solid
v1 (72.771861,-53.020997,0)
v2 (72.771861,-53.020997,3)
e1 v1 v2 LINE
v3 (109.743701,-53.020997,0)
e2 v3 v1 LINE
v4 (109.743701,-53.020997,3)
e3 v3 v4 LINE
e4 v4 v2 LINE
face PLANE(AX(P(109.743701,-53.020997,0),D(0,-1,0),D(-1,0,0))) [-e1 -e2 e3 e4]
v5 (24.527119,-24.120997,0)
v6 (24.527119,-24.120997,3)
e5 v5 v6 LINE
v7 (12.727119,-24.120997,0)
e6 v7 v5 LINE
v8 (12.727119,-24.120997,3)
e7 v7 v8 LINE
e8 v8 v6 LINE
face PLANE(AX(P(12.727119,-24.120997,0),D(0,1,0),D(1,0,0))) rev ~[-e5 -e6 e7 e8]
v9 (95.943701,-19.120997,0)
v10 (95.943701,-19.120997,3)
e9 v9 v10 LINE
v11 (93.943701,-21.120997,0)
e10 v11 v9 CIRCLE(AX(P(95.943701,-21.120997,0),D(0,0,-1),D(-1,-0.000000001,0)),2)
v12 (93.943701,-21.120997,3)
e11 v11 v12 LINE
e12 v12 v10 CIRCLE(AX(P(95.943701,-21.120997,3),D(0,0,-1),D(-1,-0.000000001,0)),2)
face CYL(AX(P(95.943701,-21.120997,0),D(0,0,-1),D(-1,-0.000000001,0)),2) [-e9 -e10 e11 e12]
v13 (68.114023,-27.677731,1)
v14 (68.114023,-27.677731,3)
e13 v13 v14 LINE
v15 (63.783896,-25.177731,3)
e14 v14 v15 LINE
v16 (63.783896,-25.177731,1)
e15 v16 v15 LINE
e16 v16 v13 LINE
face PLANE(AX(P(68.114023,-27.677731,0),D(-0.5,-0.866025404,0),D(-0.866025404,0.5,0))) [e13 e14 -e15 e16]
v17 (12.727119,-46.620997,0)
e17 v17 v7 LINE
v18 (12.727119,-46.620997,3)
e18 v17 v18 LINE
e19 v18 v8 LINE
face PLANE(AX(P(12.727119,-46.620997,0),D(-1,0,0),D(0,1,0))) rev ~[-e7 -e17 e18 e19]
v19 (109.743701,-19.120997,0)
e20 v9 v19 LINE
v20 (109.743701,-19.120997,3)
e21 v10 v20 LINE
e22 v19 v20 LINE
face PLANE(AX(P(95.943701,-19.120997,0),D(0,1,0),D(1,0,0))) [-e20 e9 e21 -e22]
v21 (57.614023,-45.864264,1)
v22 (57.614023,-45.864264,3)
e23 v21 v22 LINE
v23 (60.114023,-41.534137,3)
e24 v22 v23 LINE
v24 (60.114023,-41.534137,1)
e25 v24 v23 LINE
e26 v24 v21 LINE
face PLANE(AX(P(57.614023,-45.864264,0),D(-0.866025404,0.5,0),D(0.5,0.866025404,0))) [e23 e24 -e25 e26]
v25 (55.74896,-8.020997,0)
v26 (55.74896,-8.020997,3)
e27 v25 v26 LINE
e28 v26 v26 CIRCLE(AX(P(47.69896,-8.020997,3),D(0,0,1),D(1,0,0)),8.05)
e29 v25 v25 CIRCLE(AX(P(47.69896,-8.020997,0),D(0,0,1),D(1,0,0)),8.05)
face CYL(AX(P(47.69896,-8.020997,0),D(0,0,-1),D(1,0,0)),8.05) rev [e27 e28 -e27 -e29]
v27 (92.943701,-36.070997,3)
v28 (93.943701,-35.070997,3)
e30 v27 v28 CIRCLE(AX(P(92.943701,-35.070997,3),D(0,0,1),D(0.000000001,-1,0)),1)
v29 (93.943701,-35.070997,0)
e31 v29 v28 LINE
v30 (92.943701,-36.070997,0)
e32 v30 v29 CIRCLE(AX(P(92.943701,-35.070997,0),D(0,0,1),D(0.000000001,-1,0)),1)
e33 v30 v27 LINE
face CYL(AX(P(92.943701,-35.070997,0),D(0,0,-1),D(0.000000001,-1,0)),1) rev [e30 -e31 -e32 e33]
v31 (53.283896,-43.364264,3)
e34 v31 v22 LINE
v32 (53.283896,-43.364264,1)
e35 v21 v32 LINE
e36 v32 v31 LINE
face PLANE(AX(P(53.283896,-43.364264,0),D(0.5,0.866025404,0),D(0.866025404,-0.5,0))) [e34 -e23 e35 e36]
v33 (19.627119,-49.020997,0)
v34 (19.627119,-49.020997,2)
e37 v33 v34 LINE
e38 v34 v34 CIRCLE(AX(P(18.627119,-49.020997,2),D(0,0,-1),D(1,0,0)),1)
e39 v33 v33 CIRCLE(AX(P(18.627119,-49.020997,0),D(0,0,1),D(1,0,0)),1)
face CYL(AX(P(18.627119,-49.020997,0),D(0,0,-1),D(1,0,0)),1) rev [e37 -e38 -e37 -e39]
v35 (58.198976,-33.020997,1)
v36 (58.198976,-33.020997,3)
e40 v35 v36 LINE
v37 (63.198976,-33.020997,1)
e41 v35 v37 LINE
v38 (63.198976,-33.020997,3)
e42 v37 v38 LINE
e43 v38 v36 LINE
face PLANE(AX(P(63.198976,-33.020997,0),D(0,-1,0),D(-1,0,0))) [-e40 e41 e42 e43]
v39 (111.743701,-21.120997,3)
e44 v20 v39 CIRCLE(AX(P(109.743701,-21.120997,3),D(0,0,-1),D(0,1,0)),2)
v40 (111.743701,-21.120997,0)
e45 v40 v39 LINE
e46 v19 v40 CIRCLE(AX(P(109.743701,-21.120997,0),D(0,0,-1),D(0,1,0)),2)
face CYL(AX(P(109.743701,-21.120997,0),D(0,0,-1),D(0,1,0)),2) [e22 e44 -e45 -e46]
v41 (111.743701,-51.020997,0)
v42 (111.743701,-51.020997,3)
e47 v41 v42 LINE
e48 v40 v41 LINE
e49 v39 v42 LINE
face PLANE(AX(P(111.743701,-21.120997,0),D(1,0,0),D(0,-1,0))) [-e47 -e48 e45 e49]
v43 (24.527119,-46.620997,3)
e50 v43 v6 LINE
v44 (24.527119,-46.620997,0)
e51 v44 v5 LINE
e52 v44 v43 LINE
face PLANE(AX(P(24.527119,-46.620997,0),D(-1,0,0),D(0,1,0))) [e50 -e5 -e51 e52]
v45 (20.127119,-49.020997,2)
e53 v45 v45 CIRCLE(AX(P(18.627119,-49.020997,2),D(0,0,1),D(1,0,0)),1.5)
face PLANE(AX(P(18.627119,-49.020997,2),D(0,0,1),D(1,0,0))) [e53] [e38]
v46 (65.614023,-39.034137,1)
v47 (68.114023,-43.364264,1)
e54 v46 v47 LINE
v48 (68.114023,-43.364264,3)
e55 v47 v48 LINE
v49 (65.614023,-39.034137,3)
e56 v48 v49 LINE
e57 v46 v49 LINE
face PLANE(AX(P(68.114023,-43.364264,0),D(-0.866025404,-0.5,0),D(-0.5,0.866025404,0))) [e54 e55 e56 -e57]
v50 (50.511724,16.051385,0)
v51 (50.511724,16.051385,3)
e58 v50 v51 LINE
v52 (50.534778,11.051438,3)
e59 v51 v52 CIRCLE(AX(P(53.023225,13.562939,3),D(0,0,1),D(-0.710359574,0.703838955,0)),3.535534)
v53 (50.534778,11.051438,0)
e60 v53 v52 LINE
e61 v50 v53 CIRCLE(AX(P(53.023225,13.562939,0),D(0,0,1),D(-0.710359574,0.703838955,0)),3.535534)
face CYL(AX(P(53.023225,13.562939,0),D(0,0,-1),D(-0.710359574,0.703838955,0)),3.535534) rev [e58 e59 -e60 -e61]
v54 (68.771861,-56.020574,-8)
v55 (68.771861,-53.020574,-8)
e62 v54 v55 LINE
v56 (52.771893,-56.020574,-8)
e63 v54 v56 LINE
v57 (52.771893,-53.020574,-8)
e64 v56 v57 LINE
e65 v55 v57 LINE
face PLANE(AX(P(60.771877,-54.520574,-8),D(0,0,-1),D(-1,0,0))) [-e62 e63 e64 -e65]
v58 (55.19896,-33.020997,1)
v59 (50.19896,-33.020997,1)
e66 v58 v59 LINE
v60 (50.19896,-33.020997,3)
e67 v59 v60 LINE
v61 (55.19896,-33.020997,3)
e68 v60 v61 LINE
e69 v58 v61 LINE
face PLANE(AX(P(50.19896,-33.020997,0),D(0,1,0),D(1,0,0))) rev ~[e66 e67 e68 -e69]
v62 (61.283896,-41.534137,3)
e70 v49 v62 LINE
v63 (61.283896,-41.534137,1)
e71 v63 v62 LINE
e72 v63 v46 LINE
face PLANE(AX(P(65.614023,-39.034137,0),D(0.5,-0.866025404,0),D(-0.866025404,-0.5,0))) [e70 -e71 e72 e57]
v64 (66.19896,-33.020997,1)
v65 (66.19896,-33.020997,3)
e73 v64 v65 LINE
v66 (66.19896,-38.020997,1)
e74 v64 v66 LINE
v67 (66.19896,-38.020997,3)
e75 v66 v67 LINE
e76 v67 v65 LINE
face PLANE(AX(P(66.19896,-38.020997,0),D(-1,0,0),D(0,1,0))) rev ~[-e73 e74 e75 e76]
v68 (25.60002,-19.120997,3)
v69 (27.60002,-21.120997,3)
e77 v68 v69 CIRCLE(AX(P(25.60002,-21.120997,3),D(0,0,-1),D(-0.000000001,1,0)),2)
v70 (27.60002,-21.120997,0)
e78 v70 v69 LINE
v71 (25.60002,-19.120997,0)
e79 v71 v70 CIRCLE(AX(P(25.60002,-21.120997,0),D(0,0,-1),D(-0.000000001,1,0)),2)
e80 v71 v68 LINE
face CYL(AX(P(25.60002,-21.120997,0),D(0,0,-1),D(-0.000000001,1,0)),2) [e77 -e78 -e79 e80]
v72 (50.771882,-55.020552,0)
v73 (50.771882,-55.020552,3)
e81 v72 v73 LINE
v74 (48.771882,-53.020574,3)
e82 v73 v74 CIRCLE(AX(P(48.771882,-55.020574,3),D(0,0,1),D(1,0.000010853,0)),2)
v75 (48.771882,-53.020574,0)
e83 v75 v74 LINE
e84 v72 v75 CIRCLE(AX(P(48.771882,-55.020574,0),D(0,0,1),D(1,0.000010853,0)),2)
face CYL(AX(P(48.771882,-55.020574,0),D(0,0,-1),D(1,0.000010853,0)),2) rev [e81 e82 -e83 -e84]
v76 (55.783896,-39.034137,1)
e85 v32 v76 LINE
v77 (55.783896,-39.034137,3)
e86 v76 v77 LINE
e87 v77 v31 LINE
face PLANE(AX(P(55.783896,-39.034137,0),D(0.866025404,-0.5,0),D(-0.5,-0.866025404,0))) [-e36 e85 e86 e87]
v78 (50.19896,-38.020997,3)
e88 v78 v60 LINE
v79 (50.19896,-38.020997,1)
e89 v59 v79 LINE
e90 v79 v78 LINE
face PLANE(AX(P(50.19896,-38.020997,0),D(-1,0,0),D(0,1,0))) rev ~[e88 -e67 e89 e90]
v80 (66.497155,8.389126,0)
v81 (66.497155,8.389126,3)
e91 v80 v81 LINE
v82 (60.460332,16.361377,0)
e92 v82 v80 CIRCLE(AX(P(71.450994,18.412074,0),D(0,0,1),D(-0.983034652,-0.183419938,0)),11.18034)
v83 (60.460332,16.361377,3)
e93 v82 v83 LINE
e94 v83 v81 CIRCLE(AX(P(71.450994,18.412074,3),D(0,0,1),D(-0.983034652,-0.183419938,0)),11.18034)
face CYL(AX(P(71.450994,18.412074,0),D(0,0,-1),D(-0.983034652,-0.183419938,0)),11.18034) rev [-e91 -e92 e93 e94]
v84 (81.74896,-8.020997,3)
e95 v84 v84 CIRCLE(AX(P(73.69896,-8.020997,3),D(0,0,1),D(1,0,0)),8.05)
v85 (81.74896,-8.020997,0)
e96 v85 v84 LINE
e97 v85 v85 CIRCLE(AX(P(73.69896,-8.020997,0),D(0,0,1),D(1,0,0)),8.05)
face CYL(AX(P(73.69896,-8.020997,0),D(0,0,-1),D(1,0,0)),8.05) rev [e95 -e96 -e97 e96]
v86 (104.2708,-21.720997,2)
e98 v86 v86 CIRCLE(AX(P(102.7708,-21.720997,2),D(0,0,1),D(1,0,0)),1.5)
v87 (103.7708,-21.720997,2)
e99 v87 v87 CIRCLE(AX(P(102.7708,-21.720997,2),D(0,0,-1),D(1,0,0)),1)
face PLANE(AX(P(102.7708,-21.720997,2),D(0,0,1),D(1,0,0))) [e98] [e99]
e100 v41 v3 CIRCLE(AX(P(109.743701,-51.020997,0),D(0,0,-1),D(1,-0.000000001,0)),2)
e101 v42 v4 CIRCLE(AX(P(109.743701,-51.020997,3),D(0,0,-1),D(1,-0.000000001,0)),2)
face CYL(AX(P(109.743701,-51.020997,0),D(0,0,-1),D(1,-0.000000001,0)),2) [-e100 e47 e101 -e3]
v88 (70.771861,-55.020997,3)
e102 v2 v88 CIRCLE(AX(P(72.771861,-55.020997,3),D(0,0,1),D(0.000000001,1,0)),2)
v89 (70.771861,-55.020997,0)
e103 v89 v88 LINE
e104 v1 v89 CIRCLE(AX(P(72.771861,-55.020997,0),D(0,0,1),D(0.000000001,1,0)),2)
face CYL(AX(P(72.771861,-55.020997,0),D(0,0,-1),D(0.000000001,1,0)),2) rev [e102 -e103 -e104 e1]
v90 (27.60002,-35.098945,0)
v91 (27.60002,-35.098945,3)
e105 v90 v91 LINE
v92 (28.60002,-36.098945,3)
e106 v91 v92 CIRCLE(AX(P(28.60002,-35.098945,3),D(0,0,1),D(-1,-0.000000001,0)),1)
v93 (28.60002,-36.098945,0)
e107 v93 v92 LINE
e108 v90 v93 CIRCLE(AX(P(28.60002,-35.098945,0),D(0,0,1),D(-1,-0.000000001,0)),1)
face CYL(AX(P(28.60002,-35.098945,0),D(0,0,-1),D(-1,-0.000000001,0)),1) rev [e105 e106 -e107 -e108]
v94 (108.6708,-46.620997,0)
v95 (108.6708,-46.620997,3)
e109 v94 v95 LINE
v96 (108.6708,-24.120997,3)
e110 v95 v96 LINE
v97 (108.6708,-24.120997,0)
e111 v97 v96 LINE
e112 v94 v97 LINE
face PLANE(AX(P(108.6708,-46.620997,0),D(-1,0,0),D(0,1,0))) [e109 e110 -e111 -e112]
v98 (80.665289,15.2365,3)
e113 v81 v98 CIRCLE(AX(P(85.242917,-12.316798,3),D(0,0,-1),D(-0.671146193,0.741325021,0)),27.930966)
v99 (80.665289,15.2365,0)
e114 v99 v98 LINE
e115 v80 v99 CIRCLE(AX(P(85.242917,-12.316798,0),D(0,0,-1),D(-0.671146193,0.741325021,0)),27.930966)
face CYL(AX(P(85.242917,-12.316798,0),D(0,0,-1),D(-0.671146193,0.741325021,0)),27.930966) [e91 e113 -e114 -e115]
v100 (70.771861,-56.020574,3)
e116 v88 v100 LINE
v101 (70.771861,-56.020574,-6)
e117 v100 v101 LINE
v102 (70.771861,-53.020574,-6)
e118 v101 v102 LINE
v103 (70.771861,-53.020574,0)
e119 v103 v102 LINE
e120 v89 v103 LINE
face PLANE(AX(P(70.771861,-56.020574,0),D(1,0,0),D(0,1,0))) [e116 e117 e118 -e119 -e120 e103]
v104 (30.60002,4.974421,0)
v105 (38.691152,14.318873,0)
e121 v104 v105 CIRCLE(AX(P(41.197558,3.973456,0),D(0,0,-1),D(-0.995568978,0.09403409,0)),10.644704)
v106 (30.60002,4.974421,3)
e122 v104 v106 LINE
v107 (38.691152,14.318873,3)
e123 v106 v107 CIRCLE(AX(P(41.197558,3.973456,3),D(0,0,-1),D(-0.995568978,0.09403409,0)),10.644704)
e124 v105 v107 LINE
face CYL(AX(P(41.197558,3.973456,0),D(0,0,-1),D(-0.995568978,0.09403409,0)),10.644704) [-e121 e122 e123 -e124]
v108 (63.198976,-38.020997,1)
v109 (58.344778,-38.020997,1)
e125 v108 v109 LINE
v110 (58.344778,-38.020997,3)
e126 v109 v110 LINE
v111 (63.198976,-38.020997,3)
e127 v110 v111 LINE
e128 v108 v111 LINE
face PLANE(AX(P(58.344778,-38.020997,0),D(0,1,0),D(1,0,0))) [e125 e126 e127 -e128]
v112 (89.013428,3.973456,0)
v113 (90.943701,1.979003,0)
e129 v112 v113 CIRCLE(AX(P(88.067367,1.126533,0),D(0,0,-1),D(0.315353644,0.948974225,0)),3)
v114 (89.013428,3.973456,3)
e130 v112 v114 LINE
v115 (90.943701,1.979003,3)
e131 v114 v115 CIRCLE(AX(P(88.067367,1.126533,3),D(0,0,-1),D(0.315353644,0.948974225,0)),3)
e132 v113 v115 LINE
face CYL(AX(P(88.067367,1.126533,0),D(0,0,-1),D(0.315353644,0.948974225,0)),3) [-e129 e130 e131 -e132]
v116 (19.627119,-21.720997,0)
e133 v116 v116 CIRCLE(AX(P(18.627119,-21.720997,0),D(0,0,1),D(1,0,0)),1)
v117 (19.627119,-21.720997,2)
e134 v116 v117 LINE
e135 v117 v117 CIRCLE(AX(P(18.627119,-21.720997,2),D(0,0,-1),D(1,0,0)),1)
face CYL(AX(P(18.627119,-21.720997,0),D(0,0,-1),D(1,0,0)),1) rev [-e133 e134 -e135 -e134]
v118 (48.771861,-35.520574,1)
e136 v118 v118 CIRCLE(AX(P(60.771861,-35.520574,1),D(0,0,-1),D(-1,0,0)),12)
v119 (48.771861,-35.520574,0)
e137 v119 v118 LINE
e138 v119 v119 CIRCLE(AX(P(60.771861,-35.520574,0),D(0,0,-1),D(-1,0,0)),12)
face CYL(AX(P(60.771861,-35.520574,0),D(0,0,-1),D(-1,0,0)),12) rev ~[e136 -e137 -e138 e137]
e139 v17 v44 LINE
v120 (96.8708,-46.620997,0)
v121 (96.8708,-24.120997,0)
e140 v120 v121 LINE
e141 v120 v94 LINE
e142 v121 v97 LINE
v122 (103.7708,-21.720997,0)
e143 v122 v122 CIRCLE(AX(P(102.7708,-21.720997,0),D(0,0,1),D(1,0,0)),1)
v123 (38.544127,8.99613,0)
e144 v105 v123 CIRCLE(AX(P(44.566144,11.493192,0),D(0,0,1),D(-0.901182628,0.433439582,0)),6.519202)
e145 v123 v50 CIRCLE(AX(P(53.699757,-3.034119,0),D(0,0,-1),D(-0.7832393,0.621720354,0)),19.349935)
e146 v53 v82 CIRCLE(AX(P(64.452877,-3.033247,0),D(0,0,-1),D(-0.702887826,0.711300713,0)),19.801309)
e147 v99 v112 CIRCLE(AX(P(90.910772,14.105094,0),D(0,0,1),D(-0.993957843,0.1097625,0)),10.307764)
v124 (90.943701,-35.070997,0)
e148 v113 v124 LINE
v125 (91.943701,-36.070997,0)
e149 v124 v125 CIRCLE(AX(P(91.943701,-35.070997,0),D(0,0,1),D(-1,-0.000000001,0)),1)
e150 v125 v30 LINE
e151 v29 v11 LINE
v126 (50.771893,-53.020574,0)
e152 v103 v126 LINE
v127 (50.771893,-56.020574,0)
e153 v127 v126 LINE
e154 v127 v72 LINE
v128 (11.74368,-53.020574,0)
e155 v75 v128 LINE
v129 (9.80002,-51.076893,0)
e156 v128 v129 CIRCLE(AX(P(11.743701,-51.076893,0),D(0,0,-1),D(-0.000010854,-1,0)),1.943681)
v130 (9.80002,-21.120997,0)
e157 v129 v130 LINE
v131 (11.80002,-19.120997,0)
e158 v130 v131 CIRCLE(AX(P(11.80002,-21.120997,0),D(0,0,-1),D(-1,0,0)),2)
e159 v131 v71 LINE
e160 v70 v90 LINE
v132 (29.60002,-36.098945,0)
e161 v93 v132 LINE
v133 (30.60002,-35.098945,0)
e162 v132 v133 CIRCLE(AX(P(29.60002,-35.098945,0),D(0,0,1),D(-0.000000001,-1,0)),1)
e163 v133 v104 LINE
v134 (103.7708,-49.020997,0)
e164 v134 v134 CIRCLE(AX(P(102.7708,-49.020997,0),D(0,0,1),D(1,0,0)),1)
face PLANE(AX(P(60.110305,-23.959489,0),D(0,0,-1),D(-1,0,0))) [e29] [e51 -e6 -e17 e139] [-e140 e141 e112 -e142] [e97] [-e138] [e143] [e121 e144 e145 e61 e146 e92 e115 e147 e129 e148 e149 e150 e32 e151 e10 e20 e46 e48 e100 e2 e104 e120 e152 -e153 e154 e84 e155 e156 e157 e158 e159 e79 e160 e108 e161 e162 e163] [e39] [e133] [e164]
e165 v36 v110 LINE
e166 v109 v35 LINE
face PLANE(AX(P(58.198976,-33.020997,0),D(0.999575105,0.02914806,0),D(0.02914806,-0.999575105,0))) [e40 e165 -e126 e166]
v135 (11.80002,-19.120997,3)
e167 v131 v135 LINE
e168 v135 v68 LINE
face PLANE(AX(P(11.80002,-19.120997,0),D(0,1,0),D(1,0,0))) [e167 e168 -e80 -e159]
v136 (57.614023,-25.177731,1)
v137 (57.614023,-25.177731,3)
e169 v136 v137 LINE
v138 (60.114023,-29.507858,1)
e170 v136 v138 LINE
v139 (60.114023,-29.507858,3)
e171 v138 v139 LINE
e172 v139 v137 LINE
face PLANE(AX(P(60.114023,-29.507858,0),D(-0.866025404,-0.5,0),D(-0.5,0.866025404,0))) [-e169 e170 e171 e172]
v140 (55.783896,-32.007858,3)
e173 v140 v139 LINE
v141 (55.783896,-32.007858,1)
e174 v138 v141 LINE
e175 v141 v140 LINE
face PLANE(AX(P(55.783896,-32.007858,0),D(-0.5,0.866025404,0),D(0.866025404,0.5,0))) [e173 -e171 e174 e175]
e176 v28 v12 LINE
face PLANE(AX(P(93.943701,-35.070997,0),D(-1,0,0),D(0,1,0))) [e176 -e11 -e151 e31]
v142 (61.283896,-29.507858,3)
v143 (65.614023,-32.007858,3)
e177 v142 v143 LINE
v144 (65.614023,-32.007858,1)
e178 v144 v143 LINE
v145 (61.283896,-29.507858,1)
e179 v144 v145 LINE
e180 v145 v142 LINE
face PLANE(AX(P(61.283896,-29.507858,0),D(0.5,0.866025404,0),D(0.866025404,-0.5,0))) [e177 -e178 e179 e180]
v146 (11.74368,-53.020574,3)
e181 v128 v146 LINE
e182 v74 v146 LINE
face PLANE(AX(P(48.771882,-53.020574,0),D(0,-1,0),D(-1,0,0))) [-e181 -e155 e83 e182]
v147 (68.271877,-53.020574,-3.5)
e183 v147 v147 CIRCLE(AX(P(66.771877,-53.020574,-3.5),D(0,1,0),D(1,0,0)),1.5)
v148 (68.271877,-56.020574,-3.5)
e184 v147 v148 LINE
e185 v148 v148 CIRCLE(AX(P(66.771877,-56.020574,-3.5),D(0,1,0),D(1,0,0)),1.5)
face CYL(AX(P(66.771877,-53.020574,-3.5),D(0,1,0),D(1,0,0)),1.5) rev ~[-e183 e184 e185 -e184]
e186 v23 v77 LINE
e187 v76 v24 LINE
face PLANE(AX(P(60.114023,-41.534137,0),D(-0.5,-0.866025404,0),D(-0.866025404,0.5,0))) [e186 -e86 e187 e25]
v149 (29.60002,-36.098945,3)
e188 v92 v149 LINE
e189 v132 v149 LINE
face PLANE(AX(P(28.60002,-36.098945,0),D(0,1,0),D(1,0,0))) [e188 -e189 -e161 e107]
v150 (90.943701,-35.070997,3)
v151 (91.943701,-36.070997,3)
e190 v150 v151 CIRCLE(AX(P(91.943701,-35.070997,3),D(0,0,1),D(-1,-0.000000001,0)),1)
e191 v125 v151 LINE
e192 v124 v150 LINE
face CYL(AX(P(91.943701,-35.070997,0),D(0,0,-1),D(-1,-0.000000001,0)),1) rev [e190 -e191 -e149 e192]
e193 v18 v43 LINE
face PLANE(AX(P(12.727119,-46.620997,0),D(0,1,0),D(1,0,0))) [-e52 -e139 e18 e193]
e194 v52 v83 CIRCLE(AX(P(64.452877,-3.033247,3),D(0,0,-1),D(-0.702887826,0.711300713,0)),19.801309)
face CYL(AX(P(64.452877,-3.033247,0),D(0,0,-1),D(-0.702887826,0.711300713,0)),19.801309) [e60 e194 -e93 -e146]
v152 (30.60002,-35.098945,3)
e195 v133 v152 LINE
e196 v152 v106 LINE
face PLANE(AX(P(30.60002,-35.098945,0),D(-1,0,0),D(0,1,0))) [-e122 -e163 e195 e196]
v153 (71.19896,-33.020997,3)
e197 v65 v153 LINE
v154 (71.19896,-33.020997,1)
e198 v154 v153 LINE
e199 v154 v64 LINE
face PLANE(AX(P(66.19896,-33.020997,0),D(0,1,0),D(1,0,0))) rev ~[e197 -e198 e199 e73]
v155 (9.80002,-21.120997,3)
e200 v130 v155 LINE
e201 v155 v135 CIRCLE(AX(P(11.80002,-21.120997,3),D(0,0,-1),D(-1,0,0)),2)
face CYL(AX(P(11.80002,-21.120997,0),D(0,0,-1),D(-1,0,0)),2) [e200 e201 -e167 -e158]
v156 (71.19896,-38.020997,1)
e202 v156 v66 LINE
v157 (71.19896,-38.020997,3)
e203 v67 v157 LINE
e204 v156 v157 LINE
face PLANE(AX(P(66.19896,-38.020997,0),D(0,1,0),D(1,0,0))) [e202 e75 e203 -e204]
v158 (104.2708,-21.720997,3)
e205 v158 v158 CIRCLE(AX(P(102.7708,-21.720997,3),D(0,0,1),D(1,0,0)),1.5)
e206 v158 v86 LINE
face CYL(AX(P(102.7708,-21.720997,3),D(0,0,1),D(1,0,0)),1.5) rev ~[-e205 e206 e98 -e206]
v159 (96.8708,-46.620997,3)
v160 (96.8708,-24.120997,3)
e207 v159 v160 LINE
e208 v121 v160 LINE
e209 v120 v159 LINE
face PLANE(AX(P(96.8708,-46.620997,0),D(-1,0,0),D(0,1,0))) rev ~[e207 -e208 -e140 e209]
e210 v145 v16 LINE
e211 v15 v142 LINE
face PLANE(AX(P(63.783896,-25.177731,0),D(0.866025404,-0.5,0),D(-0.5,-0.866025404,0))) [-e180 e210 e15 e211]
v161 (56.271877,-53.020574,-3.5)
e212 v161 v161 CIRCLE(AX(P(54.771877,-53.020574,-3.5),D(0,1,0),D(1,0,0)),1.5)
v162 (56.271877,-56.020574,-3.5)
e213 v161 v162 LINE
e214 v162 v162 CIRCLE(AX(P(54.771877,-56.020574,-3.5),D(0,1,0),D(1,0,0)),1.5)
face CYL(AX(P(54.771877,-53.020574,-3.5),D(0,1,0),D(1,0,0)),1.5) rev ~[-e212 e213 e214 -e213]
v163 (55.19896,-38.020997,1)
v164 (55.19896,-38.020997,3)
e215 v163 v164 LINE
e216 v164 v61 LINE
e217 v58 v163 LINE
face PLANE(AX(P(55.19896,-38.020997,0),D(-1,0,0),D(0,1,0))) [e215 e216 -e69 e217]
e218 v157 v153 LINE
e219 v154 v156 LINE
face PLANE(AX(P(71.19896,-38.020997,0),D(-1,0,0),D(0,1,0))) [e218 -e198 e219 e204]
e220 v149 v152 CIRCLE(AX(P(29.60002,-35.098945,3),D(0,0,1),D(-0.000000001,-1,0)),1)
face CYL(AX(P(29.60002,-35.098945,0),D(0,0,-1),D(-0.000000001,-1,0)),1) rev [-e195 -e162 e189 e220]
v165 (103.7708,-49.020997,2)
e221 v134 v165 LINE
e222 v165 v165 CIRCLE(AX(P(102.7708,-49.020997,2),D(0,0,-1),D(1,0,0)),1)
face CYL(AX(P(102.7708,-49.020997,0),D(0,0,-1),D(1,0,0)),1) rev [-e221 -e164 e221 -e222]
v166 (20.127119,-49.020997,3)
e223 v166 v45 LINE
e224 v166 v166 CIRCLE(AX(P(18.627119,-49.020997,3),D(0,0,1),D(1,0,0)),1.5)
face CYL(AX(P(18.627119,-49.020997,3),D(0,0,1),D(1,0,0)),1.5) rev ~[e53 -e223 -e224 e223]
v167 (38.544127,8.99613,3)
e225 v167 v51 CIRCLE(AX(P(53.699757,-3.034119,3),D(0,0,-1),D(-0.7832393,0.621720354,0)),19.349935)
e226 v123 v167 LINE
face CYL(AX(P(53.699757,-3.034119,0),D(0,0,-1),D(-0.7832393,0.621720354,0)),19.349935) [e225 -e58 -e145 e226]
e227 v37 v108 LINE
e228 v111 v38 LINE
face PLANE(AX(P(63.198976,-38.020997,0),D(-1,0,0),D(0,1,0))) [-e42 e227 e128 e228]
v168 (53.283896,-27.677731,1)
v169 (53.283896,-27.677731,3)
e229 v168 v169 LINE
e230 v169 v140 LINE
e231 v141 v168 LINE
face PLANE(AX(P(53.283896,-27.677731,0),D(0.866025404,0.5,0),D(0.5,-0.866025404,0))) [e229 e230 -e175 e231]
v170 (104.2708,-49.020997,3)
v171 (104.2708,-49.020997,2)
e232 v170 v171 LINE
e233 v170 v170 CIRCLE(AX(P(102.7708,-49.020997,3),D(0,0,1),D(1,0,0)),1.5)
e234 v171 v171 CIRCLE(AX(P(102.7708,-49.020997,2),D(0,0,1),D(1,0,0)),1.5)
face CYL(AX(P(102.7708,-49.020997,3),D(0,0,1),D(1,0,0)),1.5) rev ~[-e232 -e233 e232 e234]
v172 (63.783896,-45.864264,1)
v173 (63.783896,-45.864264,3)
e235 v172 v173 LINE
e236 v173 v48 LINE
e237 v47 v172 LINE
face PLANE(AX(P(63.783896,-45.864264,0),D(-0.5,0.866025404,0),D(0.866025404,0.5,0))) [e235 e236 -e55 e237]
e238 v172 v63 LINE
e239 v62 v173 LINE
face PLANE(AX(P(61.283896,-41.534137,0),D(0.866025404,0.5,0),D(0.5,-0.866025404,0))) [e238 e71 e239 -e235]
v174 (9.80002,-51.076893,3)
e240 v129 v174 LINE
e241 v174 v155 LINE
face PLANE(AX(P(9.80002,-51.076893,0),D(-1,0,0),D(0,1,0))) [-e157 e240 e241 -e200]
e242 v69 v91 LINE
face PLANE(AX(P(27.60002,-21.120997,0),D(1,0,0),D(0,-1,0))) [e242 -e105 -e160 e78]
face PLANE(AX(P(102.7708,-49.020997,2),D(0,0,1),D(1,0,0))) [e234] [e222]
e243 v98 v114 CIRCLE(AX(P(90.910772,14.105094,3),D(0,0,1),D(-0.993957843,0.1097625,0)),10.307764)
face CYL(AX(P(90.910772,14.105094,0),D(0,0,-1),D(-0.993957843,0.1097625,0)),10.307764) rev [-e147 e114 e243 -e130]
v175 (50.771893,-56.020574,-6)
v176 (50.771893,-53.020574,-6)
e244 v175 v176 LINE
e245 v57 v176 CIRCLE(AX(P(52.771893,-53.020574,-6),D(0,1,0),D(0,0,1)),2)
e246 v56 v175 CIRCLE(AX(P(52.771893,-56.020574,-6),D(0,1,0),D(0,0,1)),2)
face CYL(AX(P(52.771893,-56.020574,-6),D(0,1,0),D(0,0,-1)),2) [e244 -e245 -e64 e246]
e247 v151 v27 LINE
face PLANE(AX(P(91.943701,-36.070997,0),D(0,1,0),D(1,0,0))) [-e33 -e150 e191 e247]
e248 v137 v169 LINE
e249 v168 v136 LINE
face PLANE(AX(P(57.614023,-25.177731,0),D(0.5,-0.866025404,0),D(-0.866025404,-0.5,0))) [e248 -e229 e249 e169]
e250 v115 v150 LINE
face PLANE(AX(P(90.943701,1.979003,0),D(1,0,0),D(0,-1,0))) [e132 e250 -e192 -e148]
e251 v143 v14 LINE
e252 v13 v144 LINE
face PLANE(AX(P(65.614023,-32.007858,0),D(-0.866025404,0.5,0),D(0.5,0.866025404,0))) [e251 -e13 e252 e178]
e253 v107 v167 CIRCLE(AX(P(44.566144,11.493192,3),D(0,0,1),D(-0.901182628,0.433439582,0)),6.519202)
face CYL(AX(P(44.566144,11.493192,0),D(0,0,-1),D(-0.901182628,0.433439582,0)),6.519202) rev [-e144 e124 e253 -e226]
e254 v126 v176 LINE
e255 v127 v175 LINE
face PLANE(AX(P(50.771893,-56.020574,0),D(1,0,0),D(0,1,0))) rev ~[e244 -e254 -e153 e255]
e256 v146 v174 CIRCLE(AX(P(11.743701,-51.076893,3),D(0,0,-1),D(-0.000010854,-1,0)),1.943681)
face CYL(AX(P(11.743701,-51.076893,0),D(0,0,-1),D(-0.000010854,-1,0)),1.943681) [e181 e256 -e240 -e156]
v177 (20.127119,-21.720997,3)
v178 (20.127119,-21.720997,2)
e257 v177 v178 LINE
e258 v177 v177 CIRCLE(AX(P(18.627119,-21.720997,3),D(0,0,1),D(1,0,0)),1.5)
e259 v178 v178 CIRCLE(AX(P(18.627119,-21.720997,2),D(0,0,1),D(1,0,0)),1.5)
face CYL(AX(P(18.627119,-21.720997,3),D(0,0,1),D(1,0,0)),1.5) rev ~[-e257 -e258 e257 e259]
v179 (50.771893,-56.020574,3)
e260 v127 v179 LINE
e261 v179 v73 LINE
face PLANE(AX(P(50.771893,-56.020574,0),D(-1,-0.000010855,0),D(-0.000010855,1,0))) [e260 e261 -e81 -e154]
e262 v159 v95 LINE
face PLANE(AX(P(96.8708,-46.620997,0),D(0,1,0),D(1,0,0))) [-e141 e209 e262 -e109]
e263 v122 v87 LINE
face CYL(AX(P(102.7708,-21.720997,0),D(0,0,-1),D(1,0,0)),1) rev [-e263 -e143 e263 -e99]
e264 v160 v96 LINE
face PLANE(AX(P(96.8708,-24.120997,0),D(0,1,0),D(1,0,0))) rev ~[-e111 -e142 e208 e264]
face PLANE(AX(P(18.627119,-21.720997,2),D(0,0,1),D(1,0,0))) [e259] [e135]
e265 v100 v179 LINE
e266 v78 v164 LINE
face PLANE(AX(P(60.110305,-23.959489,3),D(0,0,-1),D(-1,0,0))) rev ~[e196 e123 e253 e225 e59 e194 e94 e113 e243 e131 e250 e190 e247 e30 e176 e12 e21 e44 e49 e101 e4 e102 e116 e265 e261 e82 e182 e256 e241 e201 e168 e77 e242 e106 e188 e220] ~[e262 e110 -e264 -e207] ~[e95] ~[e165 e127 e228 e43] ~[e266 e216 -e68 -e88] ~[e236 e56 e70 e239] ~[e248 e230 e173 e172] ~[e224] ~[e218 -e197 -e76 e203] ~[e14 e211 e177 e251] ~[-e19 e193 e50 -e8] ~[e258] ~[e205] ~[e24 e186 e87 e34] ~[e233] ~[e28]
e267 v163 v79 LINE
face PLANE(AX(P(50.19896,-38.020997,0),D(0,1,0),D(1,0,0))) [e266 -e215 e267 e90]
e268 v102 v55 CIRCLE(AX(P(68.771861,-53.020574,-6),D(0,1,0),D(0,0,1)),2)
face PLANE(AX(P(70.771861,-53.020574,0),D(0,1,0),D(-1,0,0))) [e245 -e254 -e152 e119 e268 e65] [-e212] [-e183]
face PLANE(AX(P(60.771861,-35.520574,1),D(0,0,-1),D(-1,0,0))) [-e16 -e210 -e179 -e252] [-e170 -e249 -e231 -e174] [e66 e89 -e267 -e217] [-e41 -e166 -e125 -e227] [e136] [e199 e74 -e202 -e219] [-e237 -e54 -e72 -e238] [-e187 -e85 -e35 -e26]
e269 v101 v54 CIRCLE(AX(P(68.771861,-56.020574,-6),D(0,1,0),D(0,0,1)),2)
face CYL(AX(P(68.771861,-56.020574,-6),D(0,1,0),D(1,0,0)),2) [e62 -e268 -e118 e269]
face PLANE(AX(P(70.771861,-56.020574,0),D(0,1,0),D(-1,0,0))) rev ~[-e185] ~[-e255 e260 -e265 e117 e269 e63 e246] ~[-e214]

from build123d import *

# Parameters (mm, degrees)
MODEL_R                 = 8.05
MODEL_R_2               = 1
MODEL_W                 = 5
MODEL_H                 = 5
MODEL_W_2               = 11.8
MODEL_H_2               = 22.5
SALIENTE_EXTRUIR1_DEPTH = 3
CROQUIS2_R              = 1.5
CORTAR_EXTRUIR1_DEPTH   = 1
CROQUIS4_W              = 19.999967436
CROQUIS4_H              = 3
SALIENTE_EXTRUIR2_DEPTH = 8
CROQUIS5_R              = 1.5
CORTAR_EXTRUIR2_DEPTH   = 3
REDONDEO1_R             = 2
CROQUIS6_R              = 12
CORTAR_EXTRUIR3_DEPTH   = 1


with BuildPart() as part:
    # Model → Saliente-Extruir1 (new body)
    with BuildSketch(Plane.XY):
        with BuildLine():
            Line((28.600020379, -36.098945331), (29.600020379, -36.098945331))
            ThreePointArc((29.600020379, -36.098945331), (30.307127161, -35.806052112), (30.600020379, -35.098945331))
            Line((30.600020379, -35.098945331), (30.600020379, 4.974420659))
            ThreePointArc((30.600020379, 4.974420659), (33.150320304, 10.94136051), (38.69115159, 14.318872844))
            ThreePointArc((38.69115159, 14.318872844), (38.049426695, 11.673196605), (38.544127303, 8.99613013))
            ThreePointArc((38.544127303, 8.99613013), (43.872924224, 13.634815248), (50.51172433, 16.051385009))
            ThreePointArc((50.51172433, 16.051385009), (49.487728366, 13.546636971), (50.534778199, 11.051438157))
            ThreePointArc((50.534778199, 11.051438157), (55.112285588, 14.426569266), (60.460332405, 16.361376528))
            ThreePointArc((60.460332405, 16.361376528), (62.537747107, 11.66270114), (66.497154818, 8.389126209))
            ThreePointArc((66.497154818, 8.389126209), (73.089038309, 12.831206377), (80.665288642, 15.236499516))
            ThreePointArc((80.665288642, 15.236499516), (82.62970299, 7.967186508), (89.013428278, 3.973455574))
            ThreePointArc((89.013428278, 3.973455574), (90.223089011, 3.212884764), (90.943701038, 1.979002536))
            Line((90.943701038, 1.979002536), (90.943701038, -35.070997464))
            ThreePointArc((90.943701038, -35.070997464), (91.236594257, -35.778104245), (91.943701038, -36.070997464))
            Line((91.943701038, -36.070997464), (92.943701038, -36.070997464))
            ThreePointArc((92.943701038, -36.070997464), (93.650807819, -35.778104245), (93.943701038, -35.070997464))
            Line((93.943701038, -35.070997464), (93.943701038, -21.120997464))
            ThreePointArc((93.943701038, -21.120997464), (94.529487475, -19.706783901), (95.943701038, -19.120997464))
            Line((95.943701038, -19.120997464), (109.743701038, -19.120997464))
            ThreePointArc((109.743701038, -19.120997464), (111.1579146, -19.706783901), (111.743701038, -21.120997464))
            Line((111.743701038, -21.120997464), (111.743701038, -51.020997464))
            ThreePointArc((111.743701038, -51.020997464), (111.1579146, -52.435211026), (109.743701038, -53.020997464))
            Line((109.743701038, -53.020997464), (72.771860709, -53.020997464))
            ThreePointArc((72.771860709, -53.020997464), (71.357647146, -53.606783901), (70.771860709, -55.020997464))
            Line((70.771860709, -55.020997464), (70.771860709, -56.020573856))
            Line((70.771860709, -56.020573856), (50.771893273, -56.020573856))
            Line((50.771893273, -56.020573856), (50.771882418, -55.020552149))
            ThreePointArc((50.771882418, -55.020552149), (50.186088306, -53.606352619), (48.771882419, -53.020573857))
            Line((48.771882419, -53.020573857), (11.743679941, -53.020573857))
            ThreePointArc((11.743679941, -53.020573857), (10.369303805, -52.451275514), (9.800020379, -51.076893199))
            Line((9.800020379, -51.076893199), (9.800020379, -21.120997464))
            ThreePointArc((9.800020379, -21.120997464), (10.385806817, -19.706783901), (11.800020379, -19.120997464))
            Line((11.800020379, -19.120997464), (25.600020379, -19.120997464))
            ThreePointArc((25.600020379, -19.120997464), (27.014233942, -19.706783901), (27.600020379, -21.120997464))
            Line((27.600020379, -21.120997464), (27.600020379, -35.098945331))
            ThreePointArc((27.600020379, -35.098945331), (27.892913598, -35.806052112), (28.600020379, -36.098945331))
        make_face()
        with Locations((47.698959583, -8.020997464)):
            Circle(MODEL_R, mode=Mode.SUBTRACT)
        with Locations((73.698959582, -8.020997464)):
            Circle(MODEL_R, mode=Mode.SUBTRACT)
        with Locations((102.770799912, -49.020997464)):
            Circle(MODEL_R_2, mode=Mode.SUBTRACT)
        with Locations((102.770799912, -21.720997464)):
            Circle(MODEL_R_2, mode=Mode.SUBTRACT)
        with Locations((18.627119253, -49.020997464)):
            Circle(MODEL_R_2, mode=Mode.SUBTRACT)
        with Locations((18.627119253, -21.720997464)):
            Circle(MODEL_R_2, mode=Mode.SUBTRACT)
        Polygon((53.283896073, -43.364264203), (57.614023092, -45.864264203), (60.114023092, -41.534137185), (55.783896073, -39.034137185), align=None, mode=Mode.SUBTRACT)
        Polygon((63.783896073, -45.864264204), (68.114023092, -43.364264204), (65.614023092, -39.034137185), (61.283896073, -41.534137185), align=None, mode=Mode.SUBTRACT)
        with Locations((68.698959582, -35.520997464)):
            Rectangle(MODEL_W, MODEL_H, mode=Mode.SUBTRACT)
        Polygon((68.114023092, -27.677730724), (63.783896073, -25.177730724), (61.283896073, -29.507857743), (65.614023092, -32.007857743), align=None, mode=Mode.SUBTRACT)
        Polygon((57.614023092, -25.177730724), (53.283896073, -27.677730724), (55.783896073, -32.007857743), (60.114023092, -29.507857743), align=None, mode=Mode.SUBTRACT)
        with Locations((52.698959582, -35.520997464)):
            Rectangle(MODEL_W, MODEL_H, mode=Mode.SUBTRACT)
        Polygon((58.198975864, -33.020997464), (58.344778117, -38.020997464), (63.198975864, -38.020997464), (63.198975864, -33.020997464), align=None, mode=Mode.SUBTRACT)
        with Locations((102.770799912, -35.370997464)):
            Rectangle(MODEL_W_2, MODEL_H_2, mode=Mode.SUBTRACT)
        with Locations((18.627119253, -35.370997464)):
            Rectangle(MODEL_W_2, MODEL_H_2, mode=Mode.SUBTRACT)
    extrude(amount=SALIENTE_EXTRUIR1_DEPTH)

    # Croquis2 → Cortar-Extruir1 (cut)
    with BuildSketch(Plane.XY.offset(3)):
        with Locations((18.627119253, -21.720997464)):
            Circle(CROQUIS2_R)
        with Locations((18.627119253, -49.020997464)):
            Circle(CROQUIS2_R)
        with Locations((102.770799912, -49.020997464)):
            Circle(CROQUIS2_R)
        with Locations((102.770799912, -21.720997464)):
            Circle(CROQUIS2_R)
    extrude(amount=-CORTAR_EXTRUIR1_DEPTH, mode=Mode.SUBTRACT)

    # Croquis4 → Saliente-Extruir2 (add)
    with BuildSketch(Plane(origin=(0, 0, 0), x_dir=(-1, 0, 0), z_dir=(0, 0, -1))):
        with Locations((-60.771876991, -54.520573856)):
            Rectangle(CROQUIS4_W, CROQUIS4_H)
    extrude(amount=SALIENTE_EXTRUIR2_DEPTH)

    # Croquis5 → Cortar-Extruir2 (cut)
    with BuildSketch(Plane(origin=(0, -53.020573856, 0), x_dir=(1, 0, 0), z_dir=(0, 1, 0))):
        with Locations((66.771876991, 3.5)):
            Circle(CROQUIS5_R)
        with Locations((54.771876991, 3.5)):
            Circle(CROQUIS5_R)
    extrude(amount=-CORTAR_EXTRUIR2_DEPTH, mode=Mode.SUBTRACT)

    # Redondeo1
    redondeo1_edges = [part.edges().sort_by_distance(p)[0] for p in [
        (50.771893273, -54.520573856, -8),
        (70.771860709, -54.520573856, -8),
    ]]
    fillet(redondeo1_edges, radius=REDONDEO1_R)

    # Croquis6 → Cortar-Extruir3 (cut)
    with BuildSketch(Plane(origin=(0, 0, 0), x_dir=(-1, 0, 0), z_dir=(0, 0, -1))):
        with Locations((-60.771860709, -35.520573857)):
            Circle(CROQUIS6_R)
    extrude(amount=-CORTAR_EXTRUIR3_DEPTH, mode=Mode.SUBTRACT)


solid = part.part
